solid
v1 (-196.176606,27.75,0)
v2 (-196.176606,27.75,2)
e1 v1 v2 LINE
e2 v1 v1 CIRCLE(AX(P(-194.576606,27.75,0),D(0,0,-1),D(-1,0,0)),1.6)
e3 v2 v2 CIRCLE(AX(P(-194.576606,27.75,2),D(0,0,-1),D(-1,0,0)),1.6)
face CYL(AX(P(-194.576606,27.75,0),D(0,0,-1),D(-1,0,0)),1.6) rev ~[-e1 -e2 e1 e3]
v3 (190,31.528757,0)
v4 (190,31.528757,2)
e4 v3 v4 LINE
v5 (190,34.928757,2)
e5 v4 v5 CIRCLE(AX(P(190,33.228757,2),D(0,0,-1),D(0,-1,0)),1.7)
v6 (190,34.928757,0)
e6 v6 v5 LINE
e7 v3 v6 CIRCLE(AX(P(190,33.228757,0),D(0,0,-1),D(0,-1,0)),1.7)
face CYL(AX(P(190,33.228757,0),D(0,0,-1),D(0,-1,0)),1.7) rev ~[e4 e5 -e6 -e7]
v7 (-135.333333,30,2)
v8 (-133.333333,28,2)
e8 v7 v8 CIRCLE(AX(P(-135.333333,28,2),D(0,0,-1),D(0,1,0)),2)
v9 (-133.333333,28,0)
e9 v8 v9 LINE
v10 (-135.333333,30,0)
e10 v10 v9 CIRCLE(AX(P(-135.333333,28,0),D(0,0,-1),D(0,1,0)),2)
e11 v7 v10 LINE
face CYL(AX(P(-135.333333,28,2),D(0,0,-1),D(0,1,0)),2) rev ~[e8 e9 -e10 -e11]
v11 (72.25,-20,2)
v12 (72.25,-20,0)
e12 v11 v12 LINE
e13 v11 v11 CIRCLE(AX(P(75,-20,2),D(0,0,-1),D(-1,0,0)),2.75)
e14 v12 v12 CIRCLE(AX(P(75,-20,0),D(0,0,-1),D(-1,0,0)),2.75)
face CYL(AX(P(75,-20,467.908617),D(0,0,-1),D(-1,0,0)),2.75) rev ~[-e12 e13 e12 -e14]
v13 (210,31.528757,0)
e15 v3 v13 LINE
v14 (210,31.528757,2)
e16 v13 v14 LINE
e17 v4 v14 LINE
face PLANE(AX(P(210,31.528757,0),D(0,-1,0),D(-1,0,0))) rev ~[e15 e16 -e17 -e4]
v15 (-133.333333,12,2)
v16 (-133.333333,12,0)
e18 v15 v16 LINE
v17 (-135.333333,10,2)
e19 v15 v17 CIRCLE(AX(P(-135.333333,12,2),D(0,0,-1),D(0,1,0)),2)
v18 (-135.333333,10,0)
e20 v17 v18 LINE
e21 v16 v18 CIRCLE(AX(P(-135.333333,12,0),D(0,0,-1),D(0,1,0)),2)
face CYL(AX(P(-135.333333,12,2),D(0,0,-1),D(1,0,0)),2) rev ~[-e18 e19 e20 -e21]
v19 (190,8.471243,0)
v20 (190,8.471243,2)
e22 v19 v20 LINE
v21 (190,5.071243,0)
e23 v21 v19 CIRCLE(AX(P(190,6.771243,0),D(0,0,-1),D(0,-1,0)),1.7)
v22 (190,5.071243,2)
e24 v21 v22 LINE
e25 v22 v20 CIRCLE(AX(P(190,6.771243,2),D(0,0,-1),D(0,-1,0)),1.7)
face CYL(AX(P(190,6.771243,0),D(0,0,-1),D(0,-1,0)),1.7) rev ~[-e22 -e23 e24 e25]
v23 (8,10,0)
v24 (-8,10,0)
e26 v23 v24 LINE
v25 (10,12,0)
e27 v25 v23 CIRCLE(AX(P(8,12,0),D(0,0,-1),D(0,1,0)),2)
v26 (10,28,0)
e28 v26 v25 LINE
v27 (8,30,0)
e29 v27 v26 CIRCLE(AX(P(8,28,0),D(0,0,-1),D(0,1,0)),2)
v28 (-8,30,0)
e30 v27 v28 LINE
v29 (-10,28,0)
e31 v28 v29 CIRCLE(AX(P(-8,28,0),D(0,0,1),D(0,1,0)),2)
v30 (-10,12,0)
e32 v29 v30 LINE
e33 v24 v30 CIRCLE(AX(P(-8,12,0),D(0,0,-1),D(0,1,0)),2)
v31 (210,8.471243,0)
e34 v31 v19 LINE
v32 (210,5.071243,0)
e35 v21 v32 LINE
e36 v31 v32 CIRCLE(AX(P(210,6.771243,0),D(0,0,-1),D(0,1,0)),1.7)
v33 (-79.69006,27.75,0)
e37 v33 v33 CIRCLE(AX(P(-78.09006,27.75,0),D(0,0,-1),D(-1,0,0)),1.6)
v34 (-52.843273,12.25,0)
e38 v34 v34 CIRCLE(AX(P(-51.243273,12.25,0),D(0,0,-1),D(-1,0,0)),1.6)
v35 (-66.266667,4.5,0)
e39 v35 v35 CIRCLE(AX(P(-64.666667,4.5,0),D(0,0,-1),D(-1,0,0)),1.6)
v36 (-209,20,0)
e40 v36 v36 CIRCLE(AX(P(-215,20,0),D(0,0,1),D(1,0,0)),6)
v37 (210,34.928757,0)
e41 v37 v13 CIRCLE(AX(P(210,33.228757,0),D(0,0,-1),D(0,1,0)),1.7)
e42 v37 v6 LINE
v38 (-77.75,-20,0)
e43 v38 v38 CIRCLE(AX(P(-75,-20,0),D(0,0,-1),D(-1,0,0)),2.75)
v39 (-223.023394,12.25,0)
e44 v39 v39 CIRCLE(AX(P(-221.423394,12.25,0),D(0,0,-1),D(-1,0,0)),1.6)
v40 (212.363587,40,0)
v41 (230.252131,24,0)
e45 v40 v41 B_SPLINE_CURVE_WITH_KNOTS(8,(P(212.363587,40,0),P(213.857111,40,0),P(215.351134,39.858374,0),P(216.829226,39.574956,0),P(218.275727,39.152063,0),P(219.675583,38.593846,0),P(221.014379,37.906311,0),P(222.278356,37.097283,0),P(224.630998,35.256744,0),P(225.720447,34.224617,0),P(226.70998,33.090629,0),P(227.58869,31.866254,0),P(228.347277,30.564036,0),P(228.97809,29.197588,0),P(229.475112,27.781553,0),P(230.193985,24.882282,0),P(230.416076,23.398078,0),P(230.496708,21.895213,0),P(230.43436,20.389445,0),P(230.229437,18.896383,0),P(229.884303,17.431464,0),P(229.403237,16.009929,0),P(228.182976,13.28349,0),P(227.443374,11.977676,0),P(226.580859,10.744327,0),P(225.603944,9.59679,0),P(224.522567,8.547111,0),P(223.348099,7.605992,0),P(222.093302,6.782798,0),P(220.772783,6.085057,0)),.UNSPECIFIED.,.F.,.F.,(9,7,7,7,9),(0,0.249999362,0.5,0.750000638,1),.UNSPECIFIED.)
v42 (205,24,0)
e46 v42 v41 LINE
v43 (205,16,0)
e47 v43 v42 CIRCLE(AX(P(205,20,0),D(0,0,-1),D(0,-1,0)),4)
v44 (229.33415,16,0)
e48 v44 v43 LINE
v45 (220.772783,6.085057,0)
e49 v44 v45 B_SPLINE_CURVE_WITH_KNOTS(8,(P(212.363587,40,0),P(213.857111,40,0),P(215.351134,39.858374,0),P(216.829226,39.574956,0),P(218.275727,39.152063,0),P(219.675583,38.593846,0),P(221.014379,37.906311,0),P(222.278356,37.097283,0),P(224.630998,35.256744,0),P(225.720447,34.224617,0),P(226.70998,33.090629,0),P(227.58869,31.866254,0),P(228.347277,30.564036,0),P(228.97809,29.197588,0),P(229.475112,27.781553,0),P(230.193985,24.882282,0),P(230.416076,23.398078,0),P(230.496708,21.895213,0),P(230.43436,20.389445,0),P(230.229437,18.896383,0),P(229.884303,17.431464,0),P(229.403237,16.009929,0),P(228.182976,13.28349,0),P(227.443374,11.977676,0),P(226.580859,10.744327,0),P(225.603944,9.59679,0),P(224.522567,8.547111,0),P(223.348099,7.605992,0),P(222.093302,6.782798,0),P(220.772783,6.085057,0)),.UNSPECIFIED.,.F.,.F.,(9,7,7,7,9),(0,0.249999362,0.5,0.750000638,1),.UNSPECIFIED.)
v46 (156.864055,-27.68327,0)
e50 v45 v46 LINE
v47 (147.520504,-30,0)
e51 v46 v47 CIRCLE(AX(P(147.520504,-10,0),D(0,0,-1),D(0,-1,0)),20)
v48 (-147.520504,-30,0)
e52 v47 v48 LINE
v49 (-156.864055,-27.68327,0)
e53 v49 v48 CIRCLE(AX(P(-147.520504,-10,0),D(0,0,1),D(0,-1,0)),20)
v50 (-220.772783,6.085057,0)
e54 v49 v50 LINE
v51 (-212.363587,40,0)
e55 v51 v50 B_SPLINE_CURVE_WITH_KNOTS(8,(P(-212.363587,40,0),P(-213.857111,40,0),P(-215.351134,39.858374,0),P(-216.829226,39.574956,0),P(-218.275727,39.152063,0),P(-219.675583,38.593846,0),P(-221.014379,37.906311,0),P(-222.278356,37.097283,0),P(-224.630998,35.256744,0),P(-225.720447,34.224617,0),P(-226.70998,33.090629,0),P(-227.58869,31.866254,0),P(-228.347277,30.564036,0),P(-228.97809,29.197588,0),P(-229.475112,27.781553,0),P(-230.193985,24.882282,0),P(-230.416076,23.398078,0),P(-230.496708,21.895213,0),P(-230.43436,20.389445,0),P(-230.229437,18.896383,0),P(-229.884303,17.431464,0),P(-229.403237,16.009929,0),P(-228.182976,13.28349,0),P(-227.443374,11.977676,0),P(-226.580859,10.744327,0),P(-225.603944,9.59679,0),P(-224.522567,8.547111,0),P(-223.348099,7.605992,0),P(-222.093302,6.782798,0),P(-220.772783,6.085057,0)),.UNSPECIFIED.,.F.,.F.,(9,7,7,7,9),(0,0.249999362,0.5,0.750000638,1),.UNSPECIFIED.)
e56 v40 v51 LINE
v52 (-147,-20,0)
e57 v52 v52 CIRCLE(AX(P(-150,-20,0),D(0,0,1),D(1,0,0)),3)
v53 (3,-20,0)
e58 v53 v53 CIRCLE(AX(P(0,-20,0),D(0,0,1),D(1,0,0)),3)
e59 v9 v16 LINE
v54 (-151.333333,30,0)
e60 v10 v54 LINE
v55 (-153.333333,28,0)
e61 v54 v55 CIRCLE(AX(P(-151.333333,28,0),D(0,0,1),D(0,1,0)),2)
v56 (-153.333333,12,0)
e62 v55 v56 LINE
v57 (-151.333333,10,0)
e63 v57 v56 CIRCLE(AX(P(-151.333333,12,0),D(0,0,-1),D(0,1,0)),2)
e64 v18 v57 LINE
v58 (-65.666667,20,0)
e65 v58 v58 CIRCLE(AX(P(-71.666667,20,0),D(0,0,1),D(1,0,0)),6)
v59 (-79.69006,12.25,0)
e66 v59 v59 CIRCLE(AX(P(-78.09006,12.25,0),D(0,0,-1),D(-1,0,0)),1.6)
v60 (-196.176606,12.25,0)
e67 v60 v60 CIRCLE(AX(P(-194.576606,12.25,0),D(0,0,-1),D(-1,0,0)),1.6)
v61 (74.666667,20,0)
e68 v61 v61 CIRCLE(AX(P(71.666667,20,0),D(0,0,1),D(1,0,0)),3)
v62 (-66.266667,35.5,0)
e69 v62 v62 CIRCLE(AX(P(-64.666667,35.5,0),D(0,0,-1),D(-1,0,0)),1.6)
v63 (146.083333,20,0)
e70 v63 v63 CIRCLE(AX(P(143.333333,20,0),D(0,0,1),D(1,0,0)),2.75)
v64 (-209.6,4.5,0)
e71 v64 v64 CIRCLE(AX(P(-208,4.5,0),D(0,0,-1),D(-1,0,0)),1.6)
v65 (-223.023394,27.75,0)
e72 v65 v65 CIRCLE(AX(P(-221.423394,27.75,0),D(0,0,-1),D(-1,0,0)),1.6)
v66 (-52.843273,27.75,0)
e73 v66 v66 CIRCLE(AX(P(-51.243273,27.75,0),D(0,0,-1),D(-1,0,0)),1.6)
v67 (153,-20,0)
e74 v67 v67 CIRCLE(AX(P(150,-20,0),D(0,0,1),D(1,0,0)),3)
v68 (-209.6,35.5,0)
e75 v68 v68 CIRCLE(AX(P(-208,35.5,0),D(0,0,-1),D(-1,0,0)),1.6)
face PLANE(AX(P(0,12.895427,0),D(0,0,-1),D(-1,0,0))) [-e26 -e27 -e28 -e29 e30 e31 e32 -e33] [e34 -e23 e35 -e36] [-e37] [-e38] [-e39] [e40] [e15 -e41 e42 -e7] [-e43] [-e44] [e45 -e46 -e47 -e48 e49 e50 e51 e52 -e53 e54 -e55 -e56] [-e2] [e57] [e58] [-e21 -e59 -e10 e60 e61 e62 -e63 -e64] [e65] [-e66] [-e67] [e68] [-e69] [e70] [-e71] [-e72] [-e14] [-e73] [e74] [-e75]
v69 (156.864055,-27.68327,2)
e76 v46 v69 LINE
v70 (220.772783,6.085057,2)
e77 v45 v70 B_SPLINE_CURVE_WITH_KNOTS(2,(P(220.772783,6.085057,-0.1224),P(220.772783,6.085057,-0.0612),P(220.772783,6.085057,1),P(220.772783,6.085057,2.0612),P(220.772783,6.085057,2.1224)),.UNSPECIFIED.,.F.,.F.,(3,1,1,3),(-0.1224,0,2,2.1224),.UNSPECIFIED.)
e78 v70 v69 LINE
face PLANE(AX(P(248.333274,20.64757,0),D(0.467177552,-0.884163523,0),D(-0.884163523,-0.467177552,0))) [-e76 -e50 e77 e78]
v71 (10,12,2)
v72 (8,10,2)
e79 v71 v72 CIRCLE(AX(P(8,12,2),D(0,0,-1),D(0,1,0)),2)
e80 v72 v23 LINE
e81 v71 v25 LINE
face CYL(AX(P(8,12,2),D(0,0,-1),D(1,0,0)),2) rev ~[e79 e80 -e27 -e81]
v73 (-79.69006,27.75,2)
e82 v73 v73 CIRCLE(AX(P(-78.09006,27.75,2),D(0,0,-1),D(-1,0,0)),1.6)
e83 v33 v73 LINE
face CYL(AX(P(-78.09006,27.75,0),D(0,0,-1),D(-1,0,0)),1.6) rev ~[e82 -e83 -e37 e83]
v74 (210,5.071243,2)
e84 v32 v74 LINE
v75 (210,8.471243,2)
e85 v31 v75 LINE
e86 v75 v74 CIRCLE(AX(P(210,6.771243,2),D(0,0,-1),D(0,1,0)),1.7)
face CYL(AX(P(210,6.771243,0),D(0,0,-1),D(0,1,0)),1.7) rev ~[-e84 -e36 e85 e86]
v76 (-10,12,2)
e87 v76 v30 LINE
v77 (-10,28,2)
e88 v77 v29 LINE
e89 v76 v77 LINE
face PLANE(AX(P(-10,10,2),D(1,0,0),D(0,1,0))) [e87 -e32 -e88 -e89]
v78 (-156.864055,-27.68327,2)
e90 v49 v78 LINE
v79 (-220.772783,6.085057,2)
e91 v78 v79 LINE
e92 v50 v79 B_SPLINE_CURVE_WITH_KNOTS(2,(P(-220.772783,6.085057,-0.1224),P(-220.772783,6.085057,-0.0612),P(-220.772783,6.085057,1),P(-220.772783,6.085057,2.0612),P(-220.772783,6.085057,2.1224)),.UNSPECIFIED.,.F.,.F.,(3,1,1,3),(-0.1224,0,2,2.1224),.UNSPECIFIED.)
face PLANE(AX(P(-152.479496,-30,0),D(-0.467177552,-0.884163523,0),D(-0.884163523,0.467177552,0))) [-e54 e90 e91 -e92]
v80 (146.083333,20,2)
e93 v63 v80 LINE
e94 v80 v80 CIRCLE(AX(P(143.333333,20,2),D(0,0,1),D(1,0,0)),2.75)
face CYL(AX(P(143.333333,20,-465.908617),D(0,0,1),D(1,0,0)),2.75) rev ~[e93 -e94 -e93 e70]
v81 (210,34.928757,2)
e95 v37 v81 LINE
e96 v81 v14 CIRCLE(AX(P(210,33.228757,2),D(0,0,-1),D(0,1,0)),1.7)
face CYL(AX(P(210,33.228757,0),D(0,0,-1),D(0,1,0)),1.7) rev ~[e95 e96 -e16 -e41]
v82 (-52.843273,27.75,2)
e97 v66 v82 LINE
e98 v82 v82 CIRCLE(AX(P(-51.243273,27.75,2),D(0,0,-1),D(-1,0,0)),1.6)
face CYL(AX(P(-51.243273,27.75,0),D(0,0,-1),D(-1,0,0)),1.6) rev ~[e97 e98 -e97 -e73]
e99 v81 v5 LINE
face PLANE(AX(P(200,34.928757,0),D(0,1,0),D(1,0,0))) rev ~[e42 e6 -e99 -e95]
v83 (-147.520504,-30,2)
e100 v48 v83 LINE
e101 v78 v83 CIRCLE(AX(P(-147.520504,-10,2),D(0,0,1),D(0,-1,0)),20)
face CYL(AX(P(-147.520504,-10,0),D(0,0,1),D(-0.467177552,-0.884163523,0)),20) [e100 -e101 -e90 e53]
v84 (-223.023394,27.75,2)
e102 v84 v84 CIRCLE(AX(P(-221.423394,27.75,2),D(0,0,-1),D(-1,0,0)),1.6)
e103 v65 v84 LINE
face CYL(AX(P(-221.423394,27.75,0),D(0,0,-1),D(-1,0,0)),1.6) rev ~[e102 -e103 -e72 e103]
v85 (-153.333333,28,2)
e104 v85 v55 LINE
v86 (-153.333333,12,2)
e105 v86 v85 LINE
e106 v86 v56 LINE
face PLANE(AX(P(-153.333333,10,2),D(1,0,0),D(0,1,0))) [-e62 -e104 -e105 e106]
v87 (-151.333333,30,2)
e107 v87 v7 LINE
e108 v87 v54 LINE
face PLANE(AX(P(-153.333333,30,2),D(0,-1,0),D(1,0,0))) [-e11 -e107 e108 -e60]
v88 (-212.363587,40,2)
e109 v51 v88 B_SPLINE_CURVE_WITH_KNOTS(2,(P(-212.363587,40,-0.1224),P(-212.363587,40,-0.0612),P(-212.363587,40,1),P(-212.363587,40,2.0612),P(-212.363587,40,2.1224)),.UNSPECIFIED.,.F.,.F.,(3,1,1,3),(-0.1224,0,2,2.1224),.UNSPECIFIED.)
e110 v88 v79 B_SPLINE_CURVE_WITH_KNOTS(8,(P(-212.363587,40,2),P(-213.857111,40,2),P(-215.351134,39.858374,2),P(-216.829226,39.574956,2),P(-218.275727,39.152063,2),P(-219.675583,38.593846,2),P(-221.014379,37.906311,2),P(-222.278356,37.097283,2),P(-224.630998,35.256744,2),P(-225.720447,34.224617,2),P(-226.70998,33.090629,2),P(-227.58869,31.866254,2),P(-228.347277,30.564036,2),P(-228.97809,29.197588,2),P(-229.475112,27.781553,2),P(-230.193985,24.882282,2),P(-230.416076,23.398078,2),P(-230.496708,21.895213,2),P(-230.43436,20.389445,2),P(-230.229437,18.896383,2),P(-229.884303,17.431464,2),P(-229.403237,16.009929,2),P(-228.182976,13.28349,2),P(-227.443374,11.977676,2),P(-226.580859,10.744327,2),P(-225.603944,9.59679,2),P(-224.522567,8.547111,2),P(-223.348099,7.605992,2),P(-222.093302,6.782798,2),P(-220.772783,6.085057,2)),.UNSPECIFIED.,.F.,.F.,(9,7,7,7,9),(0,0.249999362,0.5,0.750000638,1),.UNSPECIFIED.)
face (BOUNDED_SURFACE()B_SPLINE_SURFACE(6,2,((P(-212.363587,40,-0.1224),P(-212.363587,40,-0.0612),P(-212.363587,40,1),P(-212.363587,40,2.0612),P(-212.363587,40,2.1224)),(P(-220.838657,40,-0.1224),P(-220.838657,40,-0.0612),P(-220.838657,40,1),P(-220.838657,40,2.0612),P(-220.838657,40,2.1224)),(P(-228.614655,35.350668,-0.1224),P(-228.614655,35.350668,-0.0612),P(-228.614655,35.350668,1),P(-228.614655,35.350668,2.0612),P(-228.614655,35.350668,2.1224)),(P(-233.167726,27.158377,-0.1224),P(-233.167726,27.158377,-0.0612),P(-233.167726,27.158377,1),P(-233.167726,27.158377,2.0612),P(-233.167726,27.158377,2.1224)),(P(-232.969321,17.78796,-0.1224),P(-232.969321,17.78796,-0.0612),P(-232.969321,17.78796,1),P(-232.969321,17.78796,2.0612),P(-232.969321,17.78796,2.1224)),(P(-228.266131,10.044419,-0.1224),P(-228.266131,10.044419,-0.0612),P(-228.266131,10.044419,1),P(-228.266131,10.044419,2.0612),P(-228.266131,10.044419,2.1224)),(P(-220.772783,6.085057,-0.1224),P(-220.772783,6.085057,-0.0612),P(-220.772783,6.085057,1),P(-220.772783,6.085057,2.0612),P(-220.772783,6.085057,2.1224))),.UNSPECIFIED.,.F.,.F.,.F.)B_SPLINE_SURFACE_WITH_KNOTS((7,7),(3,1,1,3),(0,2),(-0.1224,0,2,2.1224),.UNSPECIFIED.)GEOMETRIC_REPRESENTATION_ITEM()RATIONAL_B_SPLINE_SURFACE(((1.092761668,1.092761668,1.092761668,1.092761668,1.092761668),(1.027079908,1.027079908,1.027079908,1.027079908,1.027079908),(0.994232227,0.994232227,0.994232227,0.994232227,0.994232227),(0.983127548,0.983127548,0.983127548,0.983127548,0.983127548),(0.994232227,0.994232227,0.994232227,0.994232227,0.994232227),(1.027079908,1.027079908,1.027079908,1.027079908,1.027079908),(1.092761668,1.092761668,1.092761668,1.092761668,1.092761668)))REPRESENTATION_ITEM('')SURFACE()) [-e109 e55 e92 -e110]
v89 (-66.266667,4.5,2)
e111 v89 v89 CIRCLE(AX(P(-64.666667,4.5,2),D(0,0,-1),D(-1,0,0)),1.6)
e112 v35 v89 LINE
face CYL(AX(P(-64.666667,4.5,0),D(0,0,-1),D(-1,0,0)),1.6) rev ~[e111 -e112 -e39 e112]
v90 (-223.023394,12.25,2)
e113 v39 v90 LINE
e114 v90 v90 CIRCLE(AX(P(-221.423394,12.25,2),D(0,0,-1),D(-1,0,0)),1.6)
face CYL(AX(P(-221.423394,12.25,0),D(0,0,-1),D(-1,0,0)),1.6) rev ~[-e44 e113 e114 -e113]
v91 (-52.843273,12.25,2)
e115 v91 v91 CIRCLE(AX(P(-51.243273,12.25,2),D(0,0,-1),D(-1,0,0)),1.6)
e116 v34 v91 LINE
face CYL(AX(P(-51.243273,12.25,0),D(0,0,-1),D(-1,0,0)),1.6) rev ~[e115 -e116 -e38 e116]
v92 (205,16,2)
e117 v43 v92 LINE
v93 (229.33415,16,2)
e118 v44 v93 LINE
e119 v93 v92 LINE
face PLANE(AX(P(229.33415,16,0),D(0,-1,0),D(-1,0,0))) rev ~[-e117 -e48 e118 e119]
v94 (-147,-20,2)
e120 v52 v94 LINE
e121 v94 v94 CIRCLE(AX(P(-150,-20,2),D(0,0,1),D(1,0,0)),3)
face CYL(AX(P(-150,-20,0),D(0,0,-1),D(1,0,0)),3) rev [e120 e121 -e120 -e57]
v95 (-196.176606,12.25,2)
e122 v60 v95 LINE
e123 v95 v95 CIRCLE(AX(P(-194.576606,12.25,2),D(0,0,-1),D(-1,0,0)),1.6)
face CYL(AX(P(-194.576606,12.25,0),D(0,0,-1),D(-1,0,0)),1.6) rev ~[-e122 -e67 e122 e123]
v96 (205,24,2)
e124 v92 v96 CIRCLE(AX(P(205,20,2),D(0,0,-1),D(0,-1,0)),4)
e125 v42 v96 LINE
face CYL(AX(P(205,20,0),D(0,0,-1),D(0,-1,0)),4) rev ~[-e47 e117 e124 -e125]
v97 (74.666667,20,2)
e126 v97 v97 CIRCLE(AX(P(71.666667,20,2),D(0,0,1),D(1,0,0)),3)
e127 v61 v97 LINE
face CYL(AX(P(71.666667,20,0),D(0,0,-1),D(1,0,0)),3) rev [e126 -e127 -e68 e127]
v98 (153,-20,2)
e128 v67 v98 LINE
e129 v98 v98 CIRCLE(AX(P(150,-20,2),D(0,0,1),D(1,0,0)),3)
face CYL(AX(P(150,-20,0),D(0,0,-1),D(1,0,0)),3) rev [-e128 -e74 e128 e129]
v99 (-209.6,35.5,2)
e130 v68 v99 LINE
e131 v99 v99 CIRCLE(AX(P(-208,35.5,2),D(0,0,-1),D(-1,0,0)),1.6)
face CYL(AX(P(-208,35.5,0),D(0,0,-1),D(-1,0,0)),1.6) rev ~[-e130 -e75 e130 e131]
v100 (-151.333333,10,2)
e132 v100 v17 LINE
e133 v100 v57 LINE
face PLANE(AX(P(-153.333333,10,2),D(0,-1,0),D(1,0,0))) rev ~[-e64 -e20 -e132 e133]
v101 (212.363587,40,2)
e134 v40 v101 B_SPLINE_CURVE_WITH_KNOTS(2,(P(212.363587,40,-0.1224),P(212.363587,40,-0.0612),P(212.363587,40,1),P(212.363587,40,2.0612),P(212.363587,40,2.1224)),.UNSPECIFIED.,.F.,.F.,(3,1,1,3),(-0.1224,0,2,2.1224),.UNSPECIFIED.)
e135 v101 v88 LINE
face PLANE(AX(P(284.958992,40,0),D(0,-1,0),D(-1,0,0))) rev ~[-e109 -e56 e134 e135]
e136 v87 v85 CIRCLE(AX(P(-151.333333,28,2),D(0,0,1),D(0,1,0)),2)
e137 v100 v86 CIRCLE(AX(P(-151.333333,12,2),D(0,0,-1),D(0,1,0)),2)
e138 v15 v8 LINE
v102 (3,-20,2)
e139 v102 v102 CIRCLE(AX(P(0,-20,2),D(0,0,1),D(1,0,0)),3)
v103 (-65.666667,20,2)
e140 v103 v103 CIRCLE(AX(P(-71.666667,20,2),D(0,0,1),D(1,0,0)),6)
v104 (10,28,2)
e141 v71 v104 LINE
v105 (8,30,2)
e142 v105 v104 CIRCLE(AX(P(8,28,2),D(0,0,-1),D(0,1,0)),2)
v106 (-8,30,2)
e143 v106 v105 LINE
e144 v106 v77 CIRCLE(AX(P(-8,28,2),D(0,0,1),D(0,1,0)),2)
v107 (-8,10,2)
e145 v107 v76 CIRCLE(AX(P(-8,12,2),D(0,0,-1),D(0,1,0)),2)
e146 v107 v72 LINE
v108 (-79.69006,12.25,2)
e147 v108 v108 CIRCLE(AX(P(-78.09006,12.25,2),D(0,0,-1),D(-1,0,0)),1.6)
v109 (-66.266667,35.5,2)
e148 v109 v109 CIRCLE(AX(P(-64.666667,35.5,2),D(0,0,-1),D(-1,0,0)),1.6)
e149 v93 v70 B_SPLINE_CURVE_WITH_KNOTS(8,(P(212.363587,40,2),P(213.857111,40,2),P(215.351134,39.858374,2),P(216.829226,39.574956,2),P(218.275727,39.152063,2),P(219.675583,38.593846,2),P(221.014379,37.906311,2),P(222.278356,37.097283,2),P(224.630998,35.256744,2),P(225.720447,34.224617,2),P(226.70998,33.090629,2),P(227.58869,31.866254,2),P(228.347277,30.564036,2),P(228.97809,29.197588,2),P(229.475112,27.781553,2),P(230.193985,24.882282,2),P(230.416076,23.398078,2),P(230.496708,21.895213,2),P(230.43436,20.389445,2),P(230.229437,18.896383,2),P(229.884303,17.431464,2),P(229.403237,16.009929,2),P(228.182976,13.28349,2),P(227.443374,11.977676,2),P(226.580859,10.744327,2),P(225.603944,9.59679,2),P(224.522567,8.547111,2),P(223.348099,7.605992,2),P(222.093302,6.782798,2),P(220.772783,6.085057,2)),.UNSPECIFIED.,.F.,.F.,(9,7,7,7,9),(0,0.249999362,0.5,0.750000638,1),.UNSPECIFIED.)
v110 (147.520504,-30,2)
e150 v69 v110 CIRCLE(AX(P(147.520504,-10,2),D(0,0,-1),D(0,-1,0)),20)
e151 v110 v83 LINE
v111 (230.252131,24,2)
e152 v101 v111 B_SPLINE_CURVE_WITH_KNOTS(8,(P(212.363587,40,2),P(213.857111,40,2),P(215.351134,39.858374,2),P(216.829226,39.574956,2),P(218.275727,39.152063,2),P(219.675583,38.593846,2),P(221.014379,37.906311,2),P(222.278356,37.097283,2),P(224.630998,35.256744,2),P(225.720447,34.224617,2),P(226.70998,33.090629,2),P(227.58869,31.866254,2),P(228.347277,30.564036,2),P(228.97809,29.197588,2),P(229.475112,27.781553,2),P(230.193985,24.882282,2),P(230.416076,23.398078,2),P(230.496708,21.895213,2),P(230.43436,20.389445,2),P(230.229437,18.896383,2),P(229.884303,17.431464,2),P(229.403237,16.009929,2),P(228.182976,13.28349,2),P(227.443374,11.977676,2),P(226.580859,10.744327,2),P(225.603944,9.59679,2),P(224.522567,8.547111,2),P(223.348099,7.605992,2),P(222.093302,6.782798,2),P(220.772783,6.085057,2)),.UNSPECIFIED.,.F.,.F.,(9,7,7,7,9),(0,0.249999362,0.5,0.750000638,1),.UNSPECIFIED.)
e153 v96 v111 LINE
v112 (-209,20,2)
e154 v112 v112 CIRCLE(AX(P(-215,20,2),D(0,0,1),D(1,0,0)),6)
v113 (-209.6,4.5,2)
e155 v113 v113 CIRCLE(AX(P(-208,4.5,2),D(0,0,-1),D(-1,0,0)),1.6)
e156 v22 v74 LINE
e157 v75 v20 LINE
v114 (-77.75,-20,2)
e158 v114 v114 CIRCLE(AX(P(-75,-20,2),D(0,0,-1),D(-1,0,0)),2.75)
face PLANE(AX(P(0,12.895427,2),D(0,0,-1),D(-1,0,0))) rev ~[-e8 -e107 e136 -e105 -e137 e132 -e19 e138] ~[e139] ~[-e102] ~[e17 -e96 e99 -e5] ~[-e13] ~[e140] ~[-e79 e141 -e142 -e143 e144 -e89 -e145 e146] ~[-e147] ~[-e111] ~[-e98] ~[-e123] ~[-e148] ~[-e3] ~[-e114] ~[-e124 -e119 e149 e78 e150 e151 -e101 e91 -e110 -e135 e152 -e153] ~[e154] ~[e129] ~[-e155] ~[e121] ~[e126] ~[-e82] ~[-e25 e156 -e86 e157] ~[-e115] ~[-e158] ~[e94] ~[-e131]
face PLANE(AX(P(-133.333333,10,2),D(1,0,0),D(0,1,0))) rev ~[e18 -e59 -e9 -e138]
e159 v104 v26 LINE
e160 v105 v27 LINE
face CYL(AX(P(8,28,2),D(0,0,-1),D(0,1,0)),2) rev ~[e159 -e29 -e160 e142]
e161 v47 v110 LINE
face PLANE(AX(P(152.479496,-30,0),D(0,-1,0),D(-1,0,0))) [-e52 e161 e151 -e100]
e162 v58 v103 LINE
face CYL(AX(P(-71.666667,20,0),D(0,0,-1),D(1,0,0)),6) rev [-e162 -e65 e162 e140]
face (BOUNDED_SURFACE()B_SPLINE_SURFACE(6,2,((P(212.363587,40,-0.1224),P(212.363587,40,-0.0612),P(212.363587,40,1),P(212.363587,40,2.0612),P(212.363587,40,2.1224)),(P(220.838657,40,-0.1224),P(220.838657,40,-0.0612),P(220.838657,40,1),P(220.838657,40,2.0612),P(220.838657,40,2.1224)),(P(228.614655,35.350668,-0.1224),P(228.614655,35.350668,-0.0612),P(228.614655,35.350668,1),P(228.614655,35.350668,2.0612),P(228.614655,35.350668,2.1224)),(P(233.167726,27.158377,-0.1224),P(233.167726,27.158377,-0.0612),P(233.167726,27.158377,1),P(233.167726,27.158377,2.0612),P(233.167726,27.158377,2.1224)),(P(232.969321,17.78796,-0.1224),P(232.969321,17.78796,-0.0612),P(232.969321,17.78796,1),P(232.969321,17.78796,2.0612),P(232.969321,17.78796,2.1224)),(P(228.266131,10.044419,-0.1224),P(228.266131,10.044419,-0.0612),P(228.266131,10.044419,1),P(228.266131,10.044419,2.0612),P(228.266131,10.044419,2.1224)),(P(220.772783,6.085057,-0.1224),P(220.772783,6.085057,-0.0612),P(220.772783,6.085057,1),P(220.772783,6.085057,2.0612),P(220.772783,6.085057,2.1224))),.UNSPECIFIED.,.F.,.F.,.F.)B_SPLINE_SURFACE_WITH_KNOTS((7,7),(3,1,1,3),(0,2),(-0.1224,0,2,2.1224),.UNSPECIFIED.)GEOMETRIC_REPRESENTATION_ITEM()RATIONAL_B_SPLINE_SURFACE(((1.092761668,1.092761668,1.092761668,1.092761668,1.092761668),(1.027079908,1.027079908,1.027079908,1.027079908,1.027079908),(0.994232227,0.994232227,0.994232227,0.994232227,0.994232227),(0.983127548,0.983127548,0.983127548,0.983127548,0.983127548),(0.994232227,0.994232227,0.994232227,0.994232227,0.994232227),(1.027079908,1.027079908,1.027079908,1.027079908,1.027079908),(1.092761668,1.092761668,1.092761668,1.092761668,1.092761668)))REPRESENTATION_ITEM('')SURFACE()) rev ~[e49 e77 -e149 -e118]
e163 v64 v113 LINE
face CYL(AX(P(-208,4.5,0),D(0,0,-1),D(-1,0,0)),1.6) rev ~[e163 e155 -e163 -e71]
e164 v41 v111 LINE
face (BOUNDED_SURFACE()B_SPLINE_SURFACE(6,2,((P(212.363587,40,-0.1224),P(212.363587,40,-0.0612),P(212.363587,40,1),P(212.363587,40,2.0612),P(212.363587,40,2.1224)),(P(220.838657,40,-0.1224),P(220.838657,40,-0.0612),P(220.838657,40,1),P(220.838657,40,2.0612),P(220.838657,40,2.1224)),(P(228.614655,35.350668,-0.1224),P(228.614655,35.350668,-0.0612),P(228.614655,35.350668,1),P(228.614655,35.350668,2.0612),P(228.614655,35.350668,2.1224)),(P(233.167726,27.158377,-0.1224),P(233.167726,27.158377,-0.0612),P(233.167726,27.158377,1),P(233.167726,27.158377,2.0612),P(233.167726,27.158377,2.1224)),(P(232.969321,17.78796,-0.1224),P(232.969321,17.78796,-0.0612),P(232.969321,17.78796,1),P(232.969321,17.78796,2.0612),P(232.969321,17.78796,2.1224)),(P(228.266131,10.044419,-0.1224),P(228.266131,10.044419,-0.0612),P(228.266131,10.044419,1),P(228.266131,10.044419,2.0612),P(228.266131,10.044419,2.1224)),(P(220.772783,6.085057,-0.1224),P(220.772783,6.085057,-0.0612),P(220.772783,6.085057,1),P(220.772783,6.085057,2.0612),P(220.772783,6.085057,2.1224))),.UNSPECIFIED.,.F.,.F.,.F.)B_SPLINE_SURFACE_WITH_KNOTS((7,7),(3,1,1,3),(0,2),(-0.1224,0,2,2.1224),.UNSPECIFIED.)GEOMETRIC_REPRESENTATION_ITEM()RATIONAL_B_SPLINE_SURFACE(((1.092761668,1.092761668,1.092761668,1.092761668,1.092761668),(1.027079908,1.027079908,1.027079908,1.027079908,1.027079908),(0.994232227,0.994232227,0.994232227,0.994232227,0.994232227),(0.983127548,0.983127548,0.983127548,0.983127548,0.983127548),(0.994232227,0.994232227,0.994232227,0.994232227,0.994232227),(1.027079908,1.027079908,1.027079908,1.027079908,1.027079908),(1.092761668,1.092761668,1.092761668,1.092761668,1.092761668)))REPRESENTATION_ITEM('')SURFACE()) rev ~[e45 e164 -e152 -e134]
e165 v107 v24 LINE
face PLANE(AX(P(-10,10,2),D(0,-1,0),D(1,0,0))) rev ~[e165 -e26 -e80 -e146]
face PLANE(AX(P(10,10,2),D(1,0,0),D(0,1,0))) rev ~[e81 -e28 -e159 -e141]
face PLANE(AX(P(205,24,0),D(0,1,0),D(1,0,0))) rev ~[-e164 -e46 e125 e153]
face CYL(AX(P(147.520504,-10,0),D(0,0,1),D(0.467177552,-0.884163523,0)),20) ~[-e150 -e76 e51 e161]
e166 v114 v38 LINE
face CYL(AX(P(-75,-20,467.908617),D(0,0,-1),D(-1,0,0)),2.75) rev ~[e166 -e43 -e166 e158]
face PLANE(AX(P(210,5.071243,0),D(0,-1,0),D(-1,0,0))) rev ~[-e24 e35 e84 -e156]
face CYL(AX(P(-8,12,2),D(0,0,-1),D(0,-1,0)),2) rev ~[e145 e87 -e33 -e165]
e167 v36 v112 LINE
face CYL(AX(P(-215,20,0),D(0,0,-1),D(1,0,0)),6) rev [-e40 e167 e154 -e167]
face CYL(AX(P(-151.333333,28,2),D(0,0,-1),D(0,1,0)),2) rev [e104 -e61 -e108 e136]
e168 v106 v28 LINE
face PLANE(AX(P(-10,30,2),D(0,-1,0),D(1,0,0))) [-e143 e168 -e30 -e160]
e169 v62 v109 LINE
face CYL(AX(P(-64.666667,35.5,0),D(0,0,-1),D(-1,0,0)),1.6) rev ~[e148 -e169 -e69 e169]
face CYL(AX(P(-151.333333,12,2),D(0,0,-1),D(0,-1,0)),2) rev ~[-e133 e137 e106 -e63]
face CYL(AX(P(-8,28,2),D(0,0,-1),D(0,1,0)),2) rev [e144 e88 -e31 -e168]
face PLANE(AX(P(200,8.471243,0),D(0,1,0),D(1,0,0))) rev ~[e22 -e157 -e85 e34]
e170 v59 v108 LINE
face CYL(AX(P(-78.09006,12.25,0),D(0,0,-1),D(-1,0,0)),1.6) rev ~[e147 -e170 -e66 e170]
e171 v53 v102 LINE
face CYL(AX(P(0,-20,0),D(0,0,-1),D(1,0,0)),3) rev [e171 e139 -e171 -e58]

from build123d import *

# Parameters (mm, degrees)
ESQUISSE1_R             = 6
ESQUISSE1_R_2           = 3
BOSS_EXTRU_1_DEPTH      = 2
CONG_1_R                = 18
CONG_2_R                = 20
D_GAGEMENT_M32_D        = 3.4
ENL_V_MAT_EXTRU_1_DEPTH = 234.819122898
ENL_V_MAT_EXTRU_2_DEPTH = 234.819122898
ESQUISSE8_R             = 1.6
ENL_V_MAT_EXTRU_3_DEPTH = 234.819122898
D_GAGEMENT_M51_D        = 5.5
D_GAGEMENT_M52_D        = 5.5
ESQUISSE13_W            = 20
ESQUISSE13_H            = 20
ENL_V_MAT_EXTRU_4_DEPTH = 234.819122898
CONG_3_R                = 2


with BuildPart() as part:
    # Esquisse1 → Boss.-Extru.1 (new body)
    with BuildSketch(Plane.XY):
        Polygon((-284.958991582, 40), (-247.300009613, 40), (248.333273954, 40), (284.958991582, 40), (248.333273954, 20.647569508), (152.479495791, -30), (-152.479495791, -30), (-247.300009613, 20.10160952), align=None)
        with Locations((-215, 20)):
            Circle(ESQUISSE1_R, mode=Mode.SUBTRACT)
        with Locations((-150, -20)):
            Circle(ESQUISSE1_R_2, mode=Mode.SUBTRACT)
        with Locations((150, -20)):
            Circle(ESQUISSE1_R_2, mode=Mode.SUBTRACT)
        with Locations((215, 20)):
            Circle(ESQUISSE1_R_2, mode=Mode.SUBTRACT)
        with Locations((0, -20)):
            Circle(ESQUISSE1_R_2, mode=Mode.SUBTRACT)
        with Locations((-71.666666667, 20)):
            Circle(ESQUISSE1_R, mode=Mode.SUBTRACT)
        with Locations((71.666666667, 20)):
            Circle(ESQUISSE1_R_2, mode=Mode.SUBTRACT)
    extrude(amount=BOSS_EXTRU_1_DEPTH)

    # Congé1
    cong_1_edges = [part.edges().sort_by_distance(p)[0] for p in [
        (-284.958991582, 40, 1),
        (284.958991582, 40, 1),
    ]]
    fillet(cong_1_edges, radius=CONG_1_R)

    # Congé2
    cong_2_edges = [part.edges().sort_by_distance(p)[0] for p in [
        (152.479495791, -30, 1),
        (-152.479495791, -30, 1),
    ]]
    fillet(cong_2_edges, radius=CONG_2_R)

    # Dégagement M32 (through all)
    with Locations(Plane(origin=(0, 0, 0), x_dir=(-1, 0, 0), z_dir=(0, 0, -1))):
        with Locations((-200, 33.228756555), (-200, 6.771243445)):
            Hole(D_GAGEMENT_M32_D / 2)

    # Esquisse4 → Enlèv. mat.-Extru.1 (cut, through all)
    with BuildSketch(Plane(origin=(0, 0, 0), x_dir=(-1, 0, 0), z_dir=(0, 0, -1))):
        with BuildLine():
            Line((-229.334149786, 16), (-205, 16))
            ThreePointArc((-205, 16), (-201, 20), (-205, 24))
            Line((-205, 24), (-230.252130857, 24))
            ThreePointArc((-230.252130857, 24), (-230.246241418, 19.948007721), (-229.334149786, 16))
        make_face()
    extrude(amount=-ENL_V_MAT_EXTRU_1_DEPTH, mode=Mode.SUBTRACT)

    # Esquisse7 → Enlèv. mat.-Extru.2 (cut, through all)
    with BuildSketch(Plane(origin=(0, 0, 0), x_dir=(-1, 0, 0), z_dir=(0, 0, -1))):
        with BuildLine():
            ThreePointArc((-200, 5.071243445), (-201.7, 6.771243445), (-200, 8.471243445))
            Line((-200, 8.471243445), (-210, 8.471243445))
            ThreePointArc((-210, 8.471243445), (-211.7, 6.771243445), (-210, 5.071243445))
            Line((-210, 5.071243445), (-200, 5.071243445))
        make_face()
        with BuildLine():
            Line((-190, 8.471243445), (-200, 8.471243445))
            ThreePointArc((-200, 8.471243445), (-198.797918472, 7.973324973), (-198.3, 6.771243445))
            ThreePointArc((-198.3, 6.771243445), (-198.797918472, 5.569161917), (-200, 5.071243445))
            Line((-200, 5.071243445), (-190, 5.071243445))
            ThreePointArc((-190, 5.071243445), (-188.3, 6.771243445), (-190, 8.471243445))
        make_face()
        with BuildLine():
            Line((-190, 34.928756555), (-200, 34.928756555))
            ThreePointArc((-200, 34.928756555), (-198.797918472, 34.430838083), (-198.3, 33.228756555))
            ThreePointArc((-198.3, 33.228756555), (-198.797918472, 32.026675027), (-200, 31.528756555))
            Line((-200, 31.528756555), (-190, 31.528756555))
            ThreePointArc((-190, 31.528756555), (-188.3, 33.228756555), (-190, 34.928756555))
        make_face()
        with BuildLine():
            ThreePointArc((-200, 31.528756555), (-201.7, 33.228756555), (-200, 34.928756555))
            Line((-200, 34.928756555), (-210, 34.928756555))
            ThreePointArc((-210, 34.928756555), (-211.7, 33.228756555), (-210, 31.528756555))
            Line((-210, 31.528756555), (-200, 31.528756555))
        make_face()
    extrude(amount=-ENL_V_MAT_EXTRU_2_DEPTH, mode=Mode.SUBTRACT)

    # Esquisse8 → Enlèv. mat.-Extru.3 (cut, through all)
    with BuildSketch(Plane(origin=(0, 0, 0), x_dir=(-1, 0, 0), z_dir=(0, 0, -1))):
        with Locations((221.423393759, 27.75)):
            Circle(ESQUISSE8_R)
        with Locations((208, 35.5)):
            Circle(ESQUISSE8_R)
        with Locations((194.576606241, 27.75)):
            Circle(ESQUISSE8_R)
        with Locations((194.576606241, 12.25)):
            Circle(ESQUISSE8_R)
        with Locations((208, 4.5)):
            Circle(ESQUISSE8_R)
        with Locations((221.423393759, 12.25)):
            Circle(ESQUISSE8_R)
        with Locations((78.090060425, 27.75)):
            Circle(ESQUISSE8_R)
        with Locations((64.666666667, 35.5)):
            Circle(ESQUISSE8_R)
        with Locations((51.243272908, 27.75)):
            Circle(ESQUISSE8_R)
        with Locations((51.243272908, 12.25)):
            Circle(ESQUISSE8_R)
        with Locations((64.666666667, 4.5)):
            Circle(ESQUISSE8_R)
        with Locations((78.090060425, 12.25)):
            Circle(ESQUISSE8_R)
    extrude(amount=-ENL_V_MAT_EXTRU_3_DEPTH, mode=Mode.SUBTRACT)

    # Dégagement M51 (through all)
    with Locations(Plane(origin=(0, 0, 0), x_dir=(-1, 0, 0), z_dir=(0, 0, -1))):
        with Locations((143.333333333, 20), (0, 20), (-143.333333333, 20)):
            Hole(D_GAGEMENT_M51_D / 2)

    # Dégagement M52 (through all)
    with Locations(Plane.XY.offset(2)):
        with Locations((-75, -20), (75, -20)):
            Hole(D_GAGEMENT_M52_D / 2)

    # Esquisse13 → Enlèv. mat.-Extru.4 (cut, through all)
    with BuildSketch(Plane.XY.offset(2)):
        with Locations((-143.333333333, 20)):
            Rectangle(ESQUISSE13_W, ESQUISSE13_H)
        with Locations((0, 20)):
            Rectangle(ESQUISSE13_W, ESQUISSE13_H)
    extrude(amount=-ENL_V_MAT_EXTRU_4_DEPTH, mode=Mode.SUBTRACT)

    # Congé3
    cong_3_edges = [part.edges().sort_by_distance(p)[0] for p in [
        (-133.333333333, 30, 1),
        (-133.333333333, 10, 1),
        (-153.333333333, 10, 1),
        (-153.333333333, 30, 1),
        (10, 30, 1),
        (10, 10, 1),
        (-10, 10, 1),
        (-10, 30, 1),
    ]]
    fillet(cong_3_edges, radius=CONG_3_R)


solid = part.part
